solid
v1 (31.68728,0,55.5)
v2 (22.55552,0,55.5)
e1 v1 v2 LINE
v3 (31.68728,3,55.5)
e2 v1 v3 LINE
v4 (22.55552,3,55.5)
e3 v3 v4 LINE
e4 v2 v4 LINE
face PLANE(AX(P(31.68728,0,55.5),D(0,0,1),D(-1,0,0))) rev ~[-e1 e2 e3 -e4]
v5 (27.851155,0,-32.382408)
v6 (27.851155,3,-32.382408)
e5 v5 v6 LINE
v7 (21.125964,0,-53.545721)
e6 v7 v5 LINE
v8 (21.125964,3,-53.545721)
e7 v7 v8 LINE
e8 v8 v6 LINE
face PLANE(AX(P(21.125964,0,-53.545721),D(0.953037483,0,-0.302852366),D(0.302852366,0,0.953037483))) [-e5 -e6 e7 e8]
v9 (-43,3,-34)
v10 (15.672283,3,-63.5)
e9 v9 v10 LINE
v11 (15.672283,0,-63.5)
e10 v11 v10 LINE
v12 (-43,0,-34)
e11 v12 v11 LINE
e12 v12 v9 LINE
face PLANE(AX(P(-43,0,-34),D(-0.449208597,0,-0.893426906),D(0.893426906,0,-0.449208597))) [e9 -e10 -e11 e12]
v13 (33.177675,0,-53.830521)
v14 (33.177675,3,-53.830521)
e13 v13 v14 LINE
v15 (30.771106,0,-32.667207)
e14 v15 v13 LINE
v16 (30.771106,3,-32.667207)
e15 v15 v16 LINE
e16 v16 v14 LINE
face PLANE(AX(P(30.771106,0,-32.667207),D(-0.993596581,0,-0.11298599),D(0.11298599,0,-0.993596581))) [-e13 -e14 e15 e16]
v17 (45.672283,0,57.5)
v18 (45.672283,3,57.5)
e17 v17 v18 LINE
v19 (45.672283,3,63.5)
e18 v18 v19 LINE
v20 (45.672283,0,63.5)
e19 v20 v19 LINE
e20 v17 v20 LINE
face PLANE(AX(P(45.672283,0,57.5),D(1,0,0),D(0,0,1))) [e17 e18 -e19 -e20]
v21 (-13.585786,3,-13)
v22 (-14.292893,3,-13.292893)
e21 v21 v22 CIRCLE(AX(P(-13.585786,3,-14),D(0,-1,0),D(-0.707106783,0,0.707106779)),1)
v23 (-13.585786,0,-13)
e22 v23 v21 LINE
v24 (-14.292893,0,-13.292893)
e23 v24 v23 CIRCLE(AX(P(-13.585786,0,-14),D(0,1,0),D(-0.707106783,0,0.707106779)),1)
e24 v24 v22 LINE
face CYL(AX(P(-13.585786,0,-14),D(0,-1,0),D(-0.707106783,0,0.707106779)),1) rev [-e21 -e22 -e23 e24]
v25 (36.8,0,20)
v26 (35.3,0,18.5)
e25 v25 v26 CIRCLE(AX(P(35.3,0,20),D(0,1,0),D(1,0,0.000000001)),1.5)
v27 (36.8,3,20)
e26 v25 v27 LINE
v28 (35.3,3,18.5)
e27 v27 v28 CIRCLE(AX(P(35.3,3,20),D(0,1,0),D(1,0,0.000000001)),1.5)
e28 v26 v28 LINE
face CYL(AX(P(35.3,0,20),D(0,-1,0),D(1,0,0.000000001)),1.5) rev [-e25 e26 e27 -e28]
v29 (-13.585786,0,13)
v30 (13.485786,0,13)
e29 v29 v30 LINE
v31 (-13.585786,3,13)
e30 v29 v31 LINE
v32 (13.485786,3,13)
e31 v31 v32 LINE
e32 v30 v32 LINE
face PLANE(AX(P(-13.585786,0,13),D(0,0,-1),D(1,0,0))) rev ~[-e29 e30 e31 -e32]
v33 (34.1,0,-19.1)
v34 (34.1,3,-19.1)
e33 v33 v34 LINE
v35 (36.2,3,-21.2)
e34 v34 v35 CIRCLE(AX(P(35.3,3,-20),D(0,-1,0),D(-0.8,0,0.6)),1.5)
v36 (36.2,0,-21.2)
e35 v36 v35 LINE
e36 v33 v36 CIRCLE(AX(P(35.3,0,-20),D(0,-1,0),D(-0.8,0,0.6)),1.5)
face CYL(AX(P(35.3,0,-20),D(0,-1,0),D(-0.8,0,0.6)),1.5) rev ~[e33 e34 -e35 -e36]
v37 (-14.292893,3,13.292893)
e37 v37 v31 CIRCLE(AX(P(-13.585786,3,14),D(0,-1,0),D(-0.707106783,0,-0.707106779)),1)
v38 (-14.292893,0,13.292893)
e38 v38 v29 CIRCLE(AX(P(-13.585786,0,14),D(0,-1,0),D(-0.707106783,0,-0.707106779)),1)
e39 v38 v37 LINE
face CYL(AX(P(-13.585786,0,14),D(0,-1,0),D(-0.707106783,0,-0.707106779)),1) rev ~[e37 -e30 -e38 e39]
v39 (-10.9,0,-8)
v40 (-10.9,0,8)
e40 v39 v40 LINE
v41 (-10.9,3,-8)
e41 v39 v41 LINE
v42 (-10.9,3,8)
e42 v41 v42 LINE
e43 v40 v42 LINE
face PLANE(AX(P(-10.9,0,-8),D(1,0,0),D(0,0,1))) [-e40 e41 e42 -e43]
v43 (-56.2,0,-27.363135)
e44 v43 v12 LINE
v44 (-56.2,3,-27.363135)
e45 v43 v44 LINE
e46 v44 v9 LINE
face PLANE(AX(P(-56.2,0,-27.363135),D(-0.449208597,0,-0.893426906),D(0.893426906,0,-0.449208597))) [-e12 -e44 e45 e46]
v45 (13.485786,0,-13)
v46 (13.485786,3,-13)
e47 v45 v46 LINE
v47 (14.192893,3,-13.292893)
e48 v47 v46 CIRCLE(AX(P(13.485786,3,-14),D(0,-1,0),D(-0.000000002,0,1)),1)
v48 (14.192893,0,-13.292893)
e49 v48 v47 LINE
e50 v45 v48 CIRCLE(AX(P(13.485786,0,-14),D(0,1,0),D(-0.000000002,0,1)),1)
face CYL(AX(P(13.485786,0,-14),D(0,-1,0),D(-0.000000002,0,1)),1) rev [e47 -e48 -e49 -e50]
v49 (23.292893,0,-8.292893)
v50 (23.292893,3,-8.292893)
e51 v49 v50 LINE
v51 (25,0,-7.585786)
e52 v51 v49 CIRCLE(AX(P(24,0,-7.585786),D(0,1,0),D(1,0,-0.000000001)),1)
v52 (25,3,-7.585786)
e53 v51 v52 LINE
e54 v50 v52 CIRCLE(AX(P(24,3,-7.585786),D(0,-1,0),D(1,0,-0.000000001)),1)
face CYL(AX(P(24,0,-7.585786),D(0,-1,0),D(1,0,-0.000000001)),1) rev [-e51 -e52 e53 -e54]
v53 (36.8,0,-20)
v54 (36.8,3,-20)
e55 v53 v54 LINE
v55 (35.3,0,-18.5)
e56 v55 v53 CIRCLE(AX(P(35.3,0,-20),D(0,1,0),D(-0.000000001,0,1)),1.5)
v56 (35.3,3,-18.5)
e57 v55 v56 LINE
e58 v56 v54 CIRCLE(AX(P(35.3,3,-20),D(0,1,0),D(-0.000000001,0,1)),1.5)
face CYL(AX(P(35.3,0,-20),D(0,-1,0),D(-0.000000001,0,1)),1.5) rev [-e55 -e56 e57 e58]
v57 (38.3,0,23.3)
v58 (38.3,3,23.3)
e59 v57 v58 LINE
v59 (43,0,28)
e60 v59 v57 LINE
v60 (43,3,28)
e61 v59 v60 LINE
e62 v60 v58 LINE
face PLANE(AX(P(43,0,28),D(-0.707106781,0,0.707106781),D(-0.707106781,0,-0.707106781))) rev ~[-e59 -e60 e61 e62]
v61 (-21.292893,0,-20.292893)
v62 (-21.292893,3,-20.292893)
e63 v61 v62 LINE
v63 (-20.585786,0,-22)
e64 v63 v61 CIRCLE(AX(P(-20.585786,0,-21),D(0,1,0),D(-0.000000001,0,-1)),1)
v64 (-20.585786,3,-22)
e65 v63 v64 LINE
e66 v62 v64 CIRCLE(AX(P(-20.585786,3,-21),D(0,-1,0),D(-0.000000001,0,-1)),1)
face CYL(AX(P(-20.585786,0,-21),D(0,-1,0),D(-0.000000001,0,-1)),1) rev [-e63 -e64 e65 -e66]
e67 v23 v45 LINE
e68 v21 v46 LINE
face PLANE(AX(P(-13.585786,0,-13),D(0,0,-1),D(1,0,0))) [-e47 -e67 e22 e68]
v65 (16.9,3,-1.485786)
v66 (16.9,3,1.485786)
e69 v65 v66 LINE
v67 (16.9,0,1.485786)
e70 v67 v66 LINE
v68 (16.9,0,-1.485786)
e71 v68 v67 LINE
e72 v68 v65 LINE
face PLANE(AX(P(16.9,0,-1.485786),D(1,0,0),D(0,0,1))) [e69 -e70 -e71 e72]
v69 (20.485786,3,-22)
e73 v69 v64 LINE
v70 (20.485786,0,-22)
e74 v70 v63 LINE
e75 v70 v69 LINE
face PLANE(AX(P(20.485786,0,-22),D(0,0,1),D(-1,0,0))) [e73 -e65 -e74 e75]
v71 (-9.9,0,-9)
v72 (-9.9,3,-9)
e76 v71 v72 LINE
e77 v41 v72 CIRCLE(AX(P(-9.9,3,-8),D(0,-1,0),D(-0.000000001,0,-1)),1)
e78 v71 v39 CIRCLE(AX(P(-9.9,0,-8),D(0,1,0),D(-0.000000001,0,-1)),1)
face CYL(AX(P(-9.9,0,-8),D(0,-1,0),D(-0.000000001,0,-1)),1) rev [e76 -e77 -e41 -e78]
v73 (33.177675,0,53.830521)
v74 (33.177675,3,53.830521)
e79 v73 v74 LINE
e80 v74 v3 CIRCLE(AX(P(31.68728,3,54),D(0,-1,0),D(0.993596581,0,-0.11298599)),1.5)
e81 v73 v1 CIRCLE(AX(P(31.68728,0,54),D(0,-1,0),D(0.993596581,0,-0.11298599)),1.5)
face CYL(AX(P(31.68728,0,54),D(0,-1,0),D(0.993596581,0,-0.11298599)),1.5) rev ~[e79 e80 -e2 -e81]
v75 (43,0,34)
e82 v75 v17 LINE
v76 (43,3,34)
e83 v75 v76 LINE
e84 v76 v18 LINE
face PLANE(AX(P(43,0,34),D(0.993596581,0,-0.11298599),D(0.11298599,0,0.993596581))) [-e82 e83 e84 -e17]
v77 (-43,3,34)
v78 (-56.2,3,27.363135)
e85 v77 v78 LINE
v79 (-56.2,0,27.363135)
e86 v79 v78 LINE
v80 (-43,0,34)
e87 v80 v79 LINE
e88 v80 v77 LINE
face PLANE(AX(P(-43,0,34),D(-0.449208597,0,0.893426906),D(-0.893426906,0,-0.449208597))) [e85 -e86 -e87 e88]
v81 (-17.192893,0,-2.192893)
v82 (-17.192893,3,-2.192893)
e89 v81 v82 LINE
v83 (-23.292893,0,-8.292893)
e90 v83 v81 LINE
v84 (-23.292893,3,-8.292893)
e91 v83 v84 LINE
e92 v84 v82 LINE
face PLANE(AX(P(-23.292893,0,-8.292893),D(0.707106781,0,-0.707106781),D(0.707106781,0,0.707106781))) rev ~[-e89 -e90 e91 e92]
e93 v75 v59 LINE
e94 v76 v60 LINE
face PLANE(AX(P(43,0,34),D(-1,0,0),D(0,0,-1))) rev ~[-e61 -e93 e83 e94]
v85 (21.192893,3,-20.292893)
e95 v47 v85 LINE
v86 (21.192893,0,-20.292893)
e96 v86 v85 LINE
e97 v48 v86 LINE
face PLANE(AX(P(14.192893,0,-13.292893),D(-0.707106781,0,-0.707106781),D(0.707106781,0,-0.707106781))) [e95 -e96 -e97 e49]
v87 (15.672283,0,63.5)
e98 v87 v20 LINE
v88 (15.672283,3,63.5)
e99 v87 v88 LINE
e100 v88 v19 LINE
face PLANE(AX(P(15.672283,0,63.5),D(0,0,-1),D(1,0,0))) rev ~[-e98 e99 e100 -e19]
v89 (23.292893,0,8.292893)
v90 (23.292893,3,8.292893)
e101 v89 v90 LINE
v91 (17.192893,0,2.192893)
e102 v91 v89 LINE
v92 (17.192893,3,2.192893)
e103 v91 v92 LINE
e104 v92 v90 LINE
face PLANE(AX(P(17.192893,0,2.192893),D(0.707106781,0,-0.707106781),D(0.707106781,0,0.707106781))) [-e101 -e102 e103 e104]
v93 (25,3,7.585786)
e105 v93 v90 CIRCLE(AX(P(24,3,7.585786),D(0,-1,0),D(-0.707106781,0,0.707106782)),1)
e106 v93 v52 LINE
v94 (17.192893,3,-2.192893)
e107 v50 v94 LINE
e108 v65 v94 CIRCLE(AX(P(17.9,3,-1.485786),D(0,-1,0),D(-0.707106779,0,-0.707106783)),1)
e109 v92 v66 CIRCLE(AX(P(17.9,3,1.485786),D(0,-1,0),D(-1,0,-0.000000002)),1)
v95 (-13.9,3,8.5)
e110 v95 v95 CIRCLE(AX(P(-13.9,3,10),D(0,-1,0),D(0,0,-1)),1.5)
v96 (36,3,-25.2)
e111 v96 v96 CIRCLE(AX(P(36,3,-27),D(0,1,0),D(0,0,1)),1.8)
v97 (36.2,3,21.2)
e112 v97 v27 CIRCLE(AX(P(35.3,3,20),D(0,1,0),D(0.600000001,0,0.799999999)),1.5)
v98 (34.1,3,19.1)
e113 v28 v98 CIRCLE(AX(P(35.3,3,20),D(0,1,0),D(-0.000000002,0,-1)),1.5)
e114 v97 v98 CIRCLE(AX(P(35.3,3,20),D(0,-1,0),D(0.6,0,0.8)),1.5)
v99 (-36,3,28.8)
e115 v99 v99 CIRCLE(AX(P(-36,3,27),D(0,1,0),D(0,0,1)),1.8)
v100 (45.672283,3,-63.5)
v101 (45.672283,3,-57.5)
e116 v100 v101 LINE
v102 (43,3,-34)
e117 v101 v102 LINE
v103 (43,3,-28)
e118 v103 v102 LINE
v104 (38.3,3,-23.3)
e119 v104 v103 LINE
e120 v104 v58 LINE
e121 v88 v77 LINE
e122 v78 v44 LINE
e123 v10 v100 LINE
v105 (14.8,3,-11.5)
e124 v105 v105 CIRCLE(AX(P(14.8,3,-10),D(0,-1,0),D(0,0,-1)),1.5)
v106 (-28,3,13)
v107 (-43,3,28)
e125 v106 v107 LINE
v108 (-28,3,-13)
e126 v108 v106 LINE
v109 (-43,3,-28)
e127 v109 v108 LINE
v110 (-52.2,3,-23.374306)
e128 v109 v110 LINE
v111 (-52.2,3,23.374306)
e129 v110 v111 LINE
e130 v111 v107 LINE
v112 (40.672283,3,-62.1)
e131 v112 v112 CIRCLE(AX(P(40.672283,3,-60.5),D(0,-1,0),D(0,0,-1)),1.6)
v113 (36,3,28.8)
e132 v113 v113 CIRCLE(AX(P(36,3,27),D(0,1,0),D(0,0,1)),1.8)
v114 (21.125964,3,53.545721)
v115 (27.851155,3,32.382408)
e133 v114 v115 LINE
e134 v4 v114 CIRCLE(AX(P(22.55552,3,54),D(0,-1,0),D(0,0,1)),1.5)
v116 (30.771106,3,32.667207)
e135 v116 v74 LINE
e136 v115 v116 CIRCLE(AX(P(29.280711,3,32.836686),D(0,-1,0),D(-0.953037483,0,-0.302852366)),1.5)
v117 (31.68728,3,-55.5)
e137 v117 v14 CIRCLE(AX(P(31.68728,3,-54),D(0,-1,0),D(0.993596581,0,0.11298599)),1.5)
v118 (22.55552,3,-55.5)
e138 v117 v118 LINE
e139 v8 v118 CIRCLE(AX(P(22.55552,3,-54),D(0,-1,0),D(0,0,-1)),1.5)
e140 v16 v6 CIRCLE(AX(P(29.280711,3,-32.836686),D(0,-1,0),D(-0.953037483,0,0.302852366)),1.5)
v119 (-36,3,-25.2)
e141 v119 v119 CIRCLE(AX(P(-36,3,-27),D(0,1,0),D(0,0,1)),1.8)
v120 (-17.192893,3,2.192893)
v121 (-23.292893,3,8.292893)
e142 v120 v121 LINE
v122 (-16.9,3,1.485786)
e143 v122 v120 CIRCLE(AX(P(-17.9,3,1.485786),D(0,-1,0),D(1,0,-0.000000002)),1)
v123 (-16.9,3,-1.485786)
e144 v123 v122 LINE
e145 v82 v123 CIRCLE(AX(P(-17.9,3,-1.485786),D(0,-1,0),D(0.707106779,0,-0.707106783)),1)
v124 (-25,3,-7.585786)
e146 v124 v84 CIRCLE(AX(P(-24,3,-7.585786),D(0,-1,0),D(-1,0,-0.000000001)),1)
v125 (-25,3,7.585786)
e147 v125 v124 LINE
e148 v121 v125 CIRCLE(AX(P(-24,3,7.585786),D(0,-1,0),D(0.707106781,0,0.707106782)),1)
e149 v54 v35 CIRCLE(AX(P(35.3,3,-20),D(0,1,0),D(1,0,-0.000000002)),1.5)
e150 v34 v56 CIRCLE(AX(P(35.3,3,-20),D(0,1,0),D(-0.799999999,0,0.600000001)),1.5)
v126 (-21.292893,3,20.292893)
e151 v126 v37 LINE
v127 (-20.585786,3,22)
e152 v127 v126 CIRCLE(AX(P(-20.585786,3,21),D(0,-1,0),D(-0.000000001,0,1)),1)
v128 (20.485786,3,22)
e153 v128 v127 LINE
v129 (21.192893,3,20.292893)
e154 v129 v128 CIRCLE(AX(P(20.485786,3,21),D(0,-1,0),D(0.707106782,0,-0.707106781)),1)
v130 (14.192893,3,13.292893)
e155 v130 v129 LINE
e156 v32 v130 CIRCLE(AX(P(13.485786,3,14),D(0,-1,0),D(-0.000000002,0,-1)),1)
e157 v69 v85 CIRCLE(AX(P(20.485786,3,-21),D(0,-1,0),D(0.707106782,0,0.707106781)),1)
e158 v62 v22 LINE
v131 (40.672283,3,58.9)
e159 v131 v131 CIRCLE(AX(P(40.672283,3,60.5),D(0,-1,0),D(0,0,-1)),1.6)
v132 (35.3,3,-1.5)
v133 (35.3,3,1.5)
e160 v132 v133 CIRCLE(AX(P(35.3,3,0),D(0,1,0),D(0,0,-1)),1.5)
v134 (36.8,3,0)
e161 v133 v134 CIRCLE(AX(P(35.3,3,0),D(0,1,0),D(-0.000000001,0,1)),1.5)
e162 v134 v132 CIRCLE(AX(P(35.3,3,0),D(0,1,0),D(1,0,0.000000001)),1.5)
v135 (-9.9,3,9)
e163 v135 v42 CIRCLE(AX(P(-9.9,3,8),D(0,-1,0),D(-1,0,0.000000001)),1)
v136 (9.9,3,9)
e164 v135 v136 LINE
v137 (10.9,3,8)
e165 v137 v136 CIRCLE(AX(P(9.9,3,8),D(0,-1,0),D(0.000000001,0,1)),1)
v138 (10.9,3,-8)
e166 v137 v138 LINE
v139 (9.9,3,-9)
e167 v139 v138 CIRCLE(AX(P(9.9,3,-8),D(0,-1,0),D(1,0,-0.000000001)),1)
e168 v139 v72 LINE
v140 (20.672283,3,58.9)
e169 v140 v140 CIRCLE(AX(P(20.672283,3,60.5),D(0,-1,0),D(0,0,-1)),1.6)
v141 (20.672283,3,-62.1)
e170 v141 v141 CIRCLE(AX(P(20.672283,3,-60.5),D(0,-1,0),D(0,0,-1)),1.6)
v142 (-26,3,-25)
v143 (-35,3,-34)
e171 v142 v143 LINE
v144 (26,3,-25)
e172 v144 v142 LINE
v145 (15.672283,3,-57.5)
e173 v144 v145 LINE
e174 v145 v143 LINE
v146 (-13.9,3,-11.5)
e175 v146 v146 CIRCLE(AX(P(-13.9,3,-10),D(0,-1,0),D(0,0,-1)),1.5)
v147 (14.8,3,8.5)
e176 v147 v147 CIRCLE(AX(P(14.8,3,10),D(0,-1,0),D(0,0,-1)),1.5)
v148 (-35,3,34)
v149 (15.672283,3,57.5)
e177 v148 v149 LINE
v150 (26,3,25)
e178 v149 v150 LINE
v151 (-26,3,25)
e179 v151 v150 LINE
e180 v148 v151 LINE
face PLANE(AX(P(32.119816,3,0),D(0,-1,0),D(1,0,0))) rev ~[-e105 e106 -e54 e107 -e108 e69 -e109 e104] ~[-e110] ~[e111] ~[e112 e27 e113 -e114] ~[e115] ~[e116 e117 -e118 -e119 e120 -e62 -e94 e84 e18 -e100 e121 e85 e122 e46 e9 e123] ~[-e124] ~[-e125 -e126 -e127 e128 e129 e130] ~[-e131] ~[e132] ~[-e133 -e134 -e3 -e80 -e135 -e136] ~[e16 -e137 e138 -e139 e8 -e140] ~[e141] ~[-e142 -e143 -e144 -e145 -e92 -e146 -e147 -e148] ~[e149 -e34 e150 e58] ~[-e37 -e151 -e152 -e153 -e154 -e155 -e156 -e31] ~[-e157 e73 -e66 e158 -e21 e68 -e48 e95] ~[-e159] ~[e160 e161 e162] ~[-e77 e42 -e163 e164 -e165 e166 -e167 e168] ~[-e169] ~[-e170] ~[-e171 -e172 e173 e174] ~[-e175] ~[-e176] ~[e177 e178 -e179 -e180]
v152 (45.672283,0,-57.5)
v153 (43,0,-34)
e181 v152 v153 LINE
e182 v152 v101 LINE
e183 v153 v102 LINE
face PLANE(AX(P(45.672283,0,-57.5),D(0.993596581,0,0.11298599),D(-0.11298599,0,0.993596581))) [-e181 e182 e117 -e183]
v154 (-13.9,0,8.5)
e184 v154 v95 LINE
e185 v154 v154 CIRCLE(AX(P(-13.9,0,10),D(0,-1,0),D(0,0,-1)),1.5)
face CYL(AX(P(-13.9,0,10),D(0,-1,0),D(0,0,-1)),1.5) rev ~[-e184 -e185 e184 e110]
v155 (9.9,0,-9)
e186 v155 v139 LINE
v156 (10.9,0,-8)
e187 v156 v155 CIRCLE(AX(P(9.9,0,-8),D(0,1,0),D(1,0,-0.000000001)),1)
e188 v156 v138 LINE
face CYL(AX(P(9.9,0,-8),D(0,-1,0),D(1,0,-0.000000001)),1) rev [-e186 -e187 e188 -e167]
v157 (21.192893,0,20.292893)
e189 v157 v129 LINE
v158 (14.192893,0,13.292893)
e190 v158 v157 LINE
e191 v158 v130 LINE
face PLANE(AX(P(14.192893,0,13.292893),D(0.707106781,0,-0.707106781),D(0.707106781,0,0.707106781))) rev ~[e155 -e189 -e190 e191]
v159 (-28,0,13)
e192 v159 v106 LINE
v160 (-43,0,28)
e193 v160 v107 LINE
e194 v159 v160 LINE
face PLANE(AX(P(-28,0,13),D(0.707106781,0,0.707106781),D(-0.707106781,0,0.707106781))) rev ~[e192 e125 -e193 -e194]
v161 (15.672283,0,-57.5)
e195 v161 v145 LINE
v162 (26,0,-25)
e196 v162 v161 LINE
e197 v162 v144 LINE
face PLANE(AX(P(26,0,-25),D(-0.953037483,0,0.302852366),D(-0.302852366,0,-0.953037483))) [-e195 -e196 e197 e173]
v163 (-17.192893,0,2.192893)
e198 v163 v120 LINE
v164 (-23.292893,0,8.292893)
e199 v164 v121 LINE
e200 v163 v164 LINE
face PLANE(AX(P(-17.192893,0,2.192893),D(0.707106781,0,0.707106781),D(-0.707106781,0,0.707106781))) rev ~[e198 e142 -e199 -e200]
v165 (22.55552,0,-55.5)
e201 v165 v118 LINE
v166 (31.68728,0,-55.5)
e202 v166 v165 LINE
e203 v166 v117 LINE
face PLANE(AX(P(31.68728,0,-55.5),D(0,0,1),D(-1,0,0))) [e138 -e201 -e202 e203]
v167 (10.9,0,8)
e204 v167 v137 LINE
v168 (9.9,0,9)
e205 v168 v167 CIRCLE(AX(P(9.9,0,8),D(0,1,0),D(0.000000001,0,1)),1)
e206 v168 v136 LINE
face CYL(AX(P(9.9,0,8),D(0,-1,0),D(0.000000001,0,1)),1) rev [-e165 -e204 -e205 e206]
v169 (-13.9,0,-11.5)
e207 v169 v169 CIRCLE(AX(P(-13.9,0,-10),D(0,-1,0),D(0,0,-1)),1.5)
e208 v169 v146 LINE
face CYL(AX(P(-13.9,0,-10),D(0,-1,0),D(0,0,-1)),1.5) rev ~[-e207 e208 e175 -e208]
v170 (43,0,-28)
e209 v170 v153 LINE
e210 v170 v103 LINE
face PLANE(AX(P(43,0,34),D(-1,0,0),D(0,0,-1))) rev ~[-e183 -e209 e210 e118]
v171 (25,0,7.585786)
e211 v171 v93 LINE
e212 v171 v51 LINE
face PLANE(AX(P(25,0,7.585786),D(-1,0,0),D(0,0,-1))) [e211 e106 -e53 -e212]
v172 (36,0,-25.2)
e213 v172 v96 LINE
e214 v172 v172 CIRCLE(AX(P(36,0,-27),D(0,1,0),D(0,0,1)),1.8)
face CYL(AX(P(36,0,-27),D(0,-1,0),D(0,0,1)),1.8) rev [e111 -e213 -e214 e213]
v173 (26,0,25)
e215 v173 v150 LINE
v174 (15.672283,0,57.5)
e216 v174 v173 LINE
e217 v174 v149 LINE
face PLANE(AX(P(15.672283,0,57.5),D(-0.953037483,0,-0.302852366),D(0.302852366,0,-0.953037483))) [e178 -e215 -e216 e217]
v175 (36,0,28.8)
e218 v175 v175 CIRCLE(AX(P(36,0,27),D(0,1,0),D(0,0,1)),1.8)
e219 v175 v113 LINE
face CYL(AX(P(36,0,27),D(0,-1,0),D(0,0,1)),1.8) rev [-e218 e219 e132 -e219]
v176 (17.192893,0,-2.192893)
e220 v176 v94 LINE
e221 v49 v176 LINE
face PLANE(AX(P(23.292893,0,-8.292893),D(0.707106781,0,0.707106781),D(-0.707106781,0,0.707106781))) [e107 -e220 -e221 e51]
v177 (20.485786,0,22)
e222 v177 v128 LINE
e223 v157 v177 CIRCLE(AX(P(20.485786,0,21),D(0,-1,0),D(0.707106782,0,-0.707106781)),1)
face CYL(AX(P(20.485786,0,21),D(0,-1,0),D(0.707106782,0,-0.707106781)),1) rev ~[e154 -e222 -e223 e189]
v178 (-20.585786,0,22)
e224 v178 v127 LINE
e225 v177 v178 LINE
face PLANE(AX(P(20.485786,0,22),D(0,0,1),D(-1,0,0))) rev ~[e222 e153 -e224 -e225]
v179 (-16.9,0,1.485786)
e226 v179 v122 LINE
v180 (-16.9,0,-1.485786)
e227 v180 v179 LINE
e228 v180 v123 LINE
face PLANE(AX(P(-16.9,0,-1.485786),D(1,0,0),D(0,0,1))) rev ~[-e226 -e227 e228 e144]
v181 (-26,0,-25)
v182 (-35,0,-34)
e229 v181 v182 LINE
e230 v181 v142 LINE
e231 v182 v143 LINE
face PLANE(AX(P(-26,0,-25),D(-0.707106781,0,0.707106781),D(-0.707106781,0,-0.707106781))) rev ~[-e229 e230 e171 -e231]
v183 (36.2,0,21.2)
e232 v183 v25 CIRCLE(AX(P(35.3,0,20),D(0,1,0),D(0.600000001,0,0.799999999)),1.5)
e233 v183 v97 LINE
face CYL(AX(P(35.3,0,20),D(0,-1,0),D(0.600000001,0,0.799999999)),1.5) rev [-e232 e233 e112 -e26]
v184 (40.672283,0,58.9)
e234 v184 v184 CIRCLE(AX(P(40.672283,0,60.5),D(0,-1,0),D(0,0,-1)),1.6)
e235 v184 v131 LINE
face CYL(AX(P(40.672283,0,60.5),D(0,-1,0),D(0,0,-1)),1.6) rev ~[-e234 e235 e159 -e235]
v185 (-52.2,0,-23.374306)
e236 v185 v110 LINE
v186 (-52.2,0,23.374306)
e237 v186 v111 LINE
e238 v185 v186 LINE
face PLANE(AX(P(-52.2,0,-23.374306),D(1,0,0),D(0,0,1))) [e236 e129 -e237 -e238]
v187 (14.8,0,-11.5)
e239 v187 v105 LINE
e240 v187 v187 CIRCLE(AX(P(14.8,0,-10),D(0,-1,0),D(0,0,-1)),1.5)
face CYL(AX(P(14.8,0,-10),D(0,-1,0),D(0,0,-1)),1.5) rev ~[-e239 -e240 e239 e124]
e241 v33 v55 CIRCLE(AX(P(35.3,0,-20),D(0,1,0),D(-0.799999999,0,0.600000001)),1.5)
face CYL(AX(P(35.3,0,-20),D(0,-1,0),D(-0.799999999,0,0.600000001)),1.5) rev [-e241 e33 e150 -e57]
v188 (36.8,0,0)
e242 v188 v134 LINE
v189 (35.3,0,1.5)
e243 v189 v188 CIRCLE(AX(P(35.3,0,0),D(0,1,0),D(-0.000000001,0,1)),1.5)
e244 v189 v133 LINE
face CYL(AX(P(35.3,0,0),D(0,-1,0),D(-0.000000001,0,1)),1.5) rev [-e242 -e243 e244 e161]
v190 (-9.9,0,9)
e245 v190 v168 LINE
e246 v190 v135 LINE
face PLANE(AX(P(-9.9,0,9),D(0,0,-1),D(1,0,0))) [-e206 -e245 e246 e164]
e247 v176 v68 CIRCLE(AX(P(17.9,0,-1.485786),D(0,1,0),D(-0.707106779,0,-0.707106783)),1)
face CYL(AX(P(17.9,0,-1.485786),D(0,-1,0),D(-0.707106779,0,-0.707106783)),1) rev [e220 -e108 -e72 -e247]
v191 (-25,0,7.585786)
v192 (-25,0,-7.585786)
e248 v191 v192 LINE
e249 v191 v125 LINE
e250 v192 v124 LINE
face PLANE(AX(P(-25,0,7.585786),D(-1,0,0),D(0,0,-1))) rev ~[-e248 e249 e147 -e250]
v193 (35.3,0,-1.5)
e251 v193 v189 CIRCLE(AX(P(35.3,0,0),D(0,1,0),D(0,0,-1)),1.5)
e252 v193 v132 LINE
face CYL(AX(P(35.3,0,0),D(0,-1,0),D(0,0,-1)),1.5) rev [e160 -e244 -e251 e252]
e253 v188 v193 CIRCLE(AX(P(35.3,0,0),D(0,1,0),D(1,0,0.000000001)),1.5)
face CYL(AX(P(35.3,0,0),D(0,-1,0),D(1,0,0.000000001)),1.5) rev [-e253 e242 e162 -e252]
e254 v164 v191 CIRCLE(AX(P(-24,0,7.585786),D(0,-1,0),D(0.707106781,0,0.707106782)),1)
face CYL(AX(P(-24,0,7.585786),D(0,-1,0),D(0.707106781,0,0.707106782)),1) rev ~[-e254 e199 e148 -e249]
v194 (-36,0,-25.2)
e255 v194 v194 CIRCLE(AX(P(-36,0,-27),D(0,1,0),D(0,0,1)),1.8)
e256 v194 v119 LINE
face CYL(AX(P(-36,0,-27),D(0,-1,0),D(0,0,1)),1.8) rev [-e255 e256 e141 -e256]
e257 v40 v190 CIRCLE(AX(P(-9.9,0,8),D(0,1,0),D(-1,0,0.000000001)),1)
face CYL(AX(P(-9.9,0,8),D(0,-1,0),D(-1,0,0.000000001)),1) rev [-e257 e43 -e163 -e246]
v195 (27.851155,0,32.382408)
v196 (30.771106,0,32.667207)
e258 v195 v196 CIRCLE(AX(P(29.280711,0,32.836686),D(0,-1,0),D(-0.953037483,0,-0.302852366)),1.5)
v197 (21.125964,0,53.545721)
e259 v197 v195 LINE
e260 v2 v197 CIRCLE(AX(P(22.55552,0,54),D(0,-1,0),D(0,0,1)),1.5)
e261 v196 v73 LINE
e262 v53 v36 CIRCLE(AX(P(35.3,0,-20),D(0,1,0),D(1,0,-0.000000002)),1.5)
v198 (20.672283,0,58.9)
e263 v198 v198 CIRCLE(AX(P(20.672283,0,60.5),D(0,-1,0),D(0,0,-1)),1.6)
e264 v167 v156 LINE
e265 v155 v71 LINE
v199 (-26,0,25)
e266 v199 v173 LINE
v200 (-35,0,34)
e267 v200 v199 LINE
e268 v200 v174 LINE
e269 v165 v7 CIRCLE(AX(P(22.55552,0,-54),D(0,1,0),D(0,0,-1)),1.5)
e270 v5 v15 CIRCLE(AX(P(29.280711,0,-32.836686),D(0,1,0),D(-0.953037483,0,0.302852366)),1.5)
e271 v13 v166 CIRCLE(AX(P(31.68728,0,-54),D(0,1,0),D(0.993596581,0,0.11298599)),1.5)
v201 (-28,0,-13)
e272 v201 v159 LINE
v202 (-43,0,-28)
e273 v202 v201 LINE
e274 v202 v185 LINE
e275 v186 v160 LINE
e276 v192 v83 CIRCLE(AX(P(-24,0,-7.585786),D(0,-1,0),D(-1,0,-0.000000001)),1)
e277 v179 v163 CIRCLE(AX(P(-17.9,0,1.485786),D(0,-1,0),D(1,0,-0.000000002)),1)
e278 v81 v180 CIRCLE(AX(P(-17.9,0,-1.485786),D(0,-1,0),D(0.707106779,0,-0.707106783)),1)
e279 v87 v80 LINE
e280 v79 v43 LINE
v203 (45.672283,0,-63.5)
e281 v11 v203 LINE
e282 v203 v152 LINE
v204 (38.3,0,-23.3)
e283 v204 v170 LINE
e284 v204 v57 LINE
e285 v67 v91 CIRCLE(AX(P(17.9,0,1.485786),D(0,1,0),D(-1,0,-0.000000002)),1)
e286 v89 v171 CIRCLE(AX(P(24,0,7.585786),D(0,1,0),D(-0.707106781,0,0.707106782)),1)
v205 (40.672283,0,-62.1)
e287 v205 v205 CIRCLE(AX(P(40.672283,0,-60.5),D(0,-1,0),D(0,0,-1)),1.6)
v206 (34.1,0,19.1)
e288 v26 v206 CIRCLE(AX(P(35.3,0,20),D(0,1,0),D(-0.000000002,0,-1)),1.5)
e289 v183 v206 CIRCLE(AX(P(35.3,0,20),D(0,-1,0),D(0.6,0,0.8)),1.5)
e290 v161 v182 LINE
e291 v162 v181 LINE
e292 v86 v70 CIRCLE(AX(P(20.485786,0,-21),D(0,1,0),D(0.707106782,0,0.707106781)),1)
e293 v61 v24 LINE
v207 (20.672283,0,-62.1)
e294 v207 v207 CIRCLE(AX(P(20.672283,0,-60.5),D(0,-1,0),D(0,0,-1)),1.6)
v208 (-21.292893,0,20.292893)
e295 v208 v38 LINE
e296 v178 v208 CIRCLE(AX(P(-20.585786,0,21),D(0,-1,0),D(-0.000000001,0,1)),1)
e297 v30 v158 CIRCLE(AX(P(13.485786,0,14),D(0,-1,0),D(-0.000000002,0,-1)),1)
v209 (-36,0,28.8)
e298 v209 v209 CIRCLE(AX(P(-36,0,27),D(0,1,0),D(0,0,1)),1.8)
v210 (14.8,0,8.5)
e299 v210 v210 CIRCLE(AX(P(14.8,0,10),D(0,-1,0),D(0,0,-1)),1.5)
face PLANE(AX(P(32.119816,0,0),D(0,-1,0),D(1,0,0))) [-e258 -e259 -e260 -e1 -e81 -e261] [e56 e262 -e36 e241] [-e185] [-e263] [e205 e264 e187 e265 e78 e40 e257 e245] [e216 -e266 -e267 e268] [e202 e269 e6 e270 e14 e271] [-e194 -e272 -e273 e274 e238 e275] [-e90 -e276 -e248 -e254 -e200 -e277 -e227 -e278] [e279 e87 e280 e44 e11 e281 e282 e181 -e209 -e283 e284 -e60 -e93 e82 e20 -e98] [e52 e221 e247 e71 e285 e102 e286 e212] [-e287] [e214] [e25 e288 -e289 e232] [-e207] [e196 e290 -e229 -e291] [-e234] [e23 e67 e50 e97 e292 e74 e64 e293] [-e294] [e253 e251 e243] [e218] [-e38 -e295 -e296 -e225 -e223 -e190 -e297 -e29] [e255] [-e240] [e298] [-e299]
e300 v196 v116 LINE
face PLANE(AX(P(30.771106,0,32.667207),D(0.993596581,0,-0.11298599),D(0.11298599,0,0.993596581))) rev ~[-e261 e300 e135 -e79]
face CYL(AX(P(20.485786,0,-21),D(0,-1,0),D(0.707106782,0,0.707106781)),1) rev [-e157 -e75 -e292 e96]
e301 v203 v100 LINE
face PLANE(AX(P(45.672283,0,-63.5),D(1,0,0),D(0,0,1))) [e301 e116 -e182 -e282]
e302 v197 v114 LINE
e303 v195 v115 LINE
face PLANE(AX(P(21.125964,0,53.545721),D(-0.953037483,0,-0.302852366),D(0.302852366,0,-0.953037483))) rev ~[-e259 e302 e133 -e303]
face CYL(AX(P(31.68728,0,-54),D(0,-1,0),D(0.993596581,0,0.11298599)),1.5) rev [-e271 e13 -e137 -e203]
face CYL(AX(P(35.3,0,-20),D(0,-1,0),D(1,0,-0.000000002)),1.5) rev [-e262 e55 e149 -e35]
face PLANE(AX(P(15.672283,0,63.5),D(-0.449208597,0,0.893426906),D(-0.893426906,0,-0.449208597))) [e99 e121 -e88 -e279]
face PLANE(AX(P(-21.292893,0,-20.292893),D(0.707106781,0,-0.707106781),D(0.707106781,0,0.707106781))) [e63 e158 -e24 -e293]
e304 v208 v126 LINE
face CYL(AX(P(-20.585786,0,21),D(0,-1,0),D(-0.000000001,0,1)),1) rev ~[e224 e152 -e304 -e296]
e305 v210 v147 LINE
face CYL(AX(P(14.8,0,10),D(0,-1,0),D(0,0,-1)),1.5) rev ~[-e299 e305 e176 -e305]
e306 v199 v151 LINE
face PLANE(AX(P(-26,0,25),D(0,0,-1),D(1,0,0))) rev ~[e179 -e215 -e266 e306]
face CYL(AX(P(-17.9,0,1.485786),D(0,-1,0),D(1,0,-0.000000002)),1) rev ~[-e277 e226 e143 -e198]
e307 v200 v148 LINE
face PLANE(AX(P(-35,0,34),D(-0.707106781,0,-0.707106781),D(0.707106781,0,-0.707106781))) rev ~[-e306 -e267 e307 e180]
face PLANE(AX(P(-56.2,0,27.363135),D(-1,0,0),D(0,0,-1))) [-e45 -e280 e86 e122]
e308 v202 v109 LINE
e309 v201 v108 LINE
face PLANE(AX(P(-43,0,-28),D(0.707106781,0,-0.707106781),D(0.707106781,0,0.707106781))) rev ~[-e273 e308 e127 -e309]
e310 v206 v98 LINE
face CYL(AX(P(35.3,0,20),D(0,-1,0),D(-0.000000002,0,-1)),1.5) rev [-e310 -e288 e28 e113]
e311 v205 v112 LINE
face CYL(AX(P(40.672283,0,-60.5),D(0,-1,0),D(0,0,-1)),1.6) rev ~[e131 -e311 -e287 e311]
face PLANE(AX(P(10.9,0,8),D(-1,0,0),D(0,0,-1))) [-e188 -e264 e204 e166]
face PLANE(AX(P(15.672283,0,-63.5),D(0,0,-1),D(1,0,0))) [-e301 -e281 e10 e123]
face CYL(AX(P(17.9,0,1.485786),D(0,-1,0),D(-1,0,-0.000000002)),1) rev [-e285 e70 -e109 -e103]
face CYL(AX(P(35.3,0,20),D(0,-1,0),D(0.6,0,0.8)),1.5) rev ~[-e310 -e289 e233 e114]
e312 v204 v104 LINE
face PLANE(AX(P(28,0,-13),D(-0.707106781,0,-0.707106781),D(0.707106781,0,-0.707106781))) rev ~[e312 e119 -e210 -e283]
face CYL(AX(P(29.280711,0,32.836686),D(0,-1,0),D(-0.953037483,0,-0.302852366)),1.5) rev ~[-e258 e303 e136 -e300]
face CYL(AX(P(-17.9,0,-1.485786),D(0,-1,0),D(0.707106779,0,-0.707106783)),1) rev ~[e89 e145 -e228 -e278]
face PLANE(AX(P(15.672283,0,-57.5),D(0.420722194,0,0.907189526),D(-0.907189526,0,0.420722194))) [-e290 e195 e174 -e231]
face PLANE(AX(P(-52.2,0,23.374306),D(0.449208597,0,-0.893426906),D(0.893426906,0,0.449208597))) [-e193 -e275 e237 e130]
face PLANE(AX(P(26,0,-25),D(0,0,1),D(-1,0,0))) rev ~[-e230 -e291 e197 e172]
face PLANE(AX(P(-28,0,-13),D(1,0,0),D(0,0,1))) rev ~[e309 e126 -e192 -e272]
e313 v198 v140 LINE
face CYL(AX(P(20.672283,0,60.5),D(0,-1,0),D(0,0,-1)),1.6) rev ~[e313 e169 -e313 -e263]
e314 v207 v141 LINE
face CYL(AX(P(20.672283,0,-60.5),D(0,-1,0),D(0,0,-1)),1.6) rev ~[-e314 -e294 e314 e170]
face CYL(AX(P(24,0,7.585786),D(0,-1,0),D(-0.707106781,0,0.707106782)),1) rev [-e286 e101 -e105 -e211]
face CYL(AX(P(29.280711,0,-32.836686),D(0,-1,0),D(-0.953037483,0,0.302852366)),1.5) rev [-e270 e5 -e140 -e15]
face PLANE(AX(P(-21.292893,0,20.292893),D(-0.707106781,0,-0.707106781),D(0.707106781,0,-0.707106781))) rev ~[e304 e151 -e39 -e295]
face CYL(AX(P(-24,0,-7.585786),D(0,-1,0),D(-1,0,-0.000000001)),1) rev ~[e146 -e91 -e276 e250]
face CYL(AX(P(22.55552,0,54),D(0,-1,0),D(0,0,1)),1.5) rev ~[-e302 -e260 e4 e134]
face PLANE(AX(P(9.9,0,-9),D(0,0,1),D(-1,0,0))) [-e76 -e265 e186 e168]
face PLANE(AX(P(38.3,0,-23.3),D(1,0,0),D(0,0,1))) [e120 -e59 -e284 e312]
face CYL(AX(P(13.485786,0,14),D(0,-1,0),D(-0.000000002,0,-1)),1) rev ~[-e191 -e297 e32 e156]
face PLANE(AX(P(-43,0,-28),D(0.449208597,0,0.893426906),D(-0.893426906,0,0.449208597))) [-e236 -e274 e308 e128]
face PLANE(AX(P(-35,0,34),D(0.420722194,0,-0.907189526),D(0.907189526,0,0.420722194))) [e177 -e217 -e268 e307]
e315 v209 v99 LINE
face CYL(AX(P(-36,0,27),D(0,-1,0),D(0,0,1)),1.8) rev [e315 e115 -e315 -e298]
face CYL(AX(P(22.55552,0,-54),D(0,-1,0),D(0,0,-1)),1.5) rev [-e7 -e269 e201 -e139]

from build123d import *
from build123d.topology import SkipClean

# Parameters (mm, degrees)
SKETCH_1_W          = 86
SKETCH_1_H          = 68
SKETCH_1_R          = 1.8
EXTRUDE_1_DEPTH     = 3
CUT_EXTRUDE_1_DEPTH = 3
SKETCH_3_W          = 30
SKETCH_3_H          = 6
SKETCH_3_R          = 1.6
EXTRUDE_2_DEPTH     = 3
EXTRUDE_3_DEPTH     = 3
SKETCH_5_R          = 1.5
CUT_EXTRUDE_2_DEPTH = 79.276480437
CUT_EXTRUDE_3_DEPTH = 79.276480437
EXTRUDE_4_DEPTH     = 3
EXTRUDE_6_DEPTH     = 3
CUT_EXTRUDE_6_DEPTH = 85.85098703
CUT_EXTRUDE_7_DEPTH = 85.85098703


with BuildPart() as part:
    # 草图1 → 凸台-拉伸1 (new body)
    with BuildSketch(Plane(origin=(0, 0, 0), x_dir=(1, 0, 0), z_dir=(0, 1, 0))):
        Rectangle(SKETCH_1_W, SKETCH_1_H)
        with Locations(Location((-36, -27, 0), (0, 0, 270))):
            Circle(SKETCH_1_R, mode=Mode.SUBTRACT)
        with Locations(Location((-36, 27, 0), (0, 0, 270))):
            Circle(SKETCH_1_R, mode=Mode.SUBTRACT)
        with Locations(Location((36, 27, 0), (0, 0, 270))):
            Circle(SKETCH_1_R, mode=Mode.SUBTRACT)
        with Locations(Location((36, -27, 0), (0, 0, 270))):
            Circle(SKETCH_1_R, mode=Mode.SUBTRACT)
    extrude(amount=EXTRUDE_1_DEPTH)

    # 草图2 → 切除-拉伸1 (cut)
    with BuildSketch(Plane.XZ):
        Polygon((26, 25), (35, 34), (-35, 34), (-26, 25), align=None)
        Polygon((-28, 13), (-43, 28), (-43, -28), (-28, -13), align=None)
        Polygon((-35, -34), (35, -34), (26, -25), (-26, -25), align=None)
        Polygon((43, -28), (43, 28), (28, 13), (28, -13), align=None)
    extrude(amount=-CUT_EXTRUDE_1_DEPTH, mode=Mode.SUBTRACT)

    # 草图3 → 凸台-拉伸2 (add)
    # profile 1 of 3: a face of its own
    with BuildSketch(Plane.XZ):
        Polygon((35, 34), (43, 34), (45.67228251, 57.499999999), (15.67228251, 57.499999999), (26, 25), align=None)
    # profile 2 of 3: a face of its own
    with BuildSketch(Plane.XZ):
        with Locations((30.67228251, 60.499999999)):
            Rectangle(SKETCH_3_W, SKETCH_3_H)
        with Locations(Location((20.67228251, 60.499999999, 0), (0, 0, 270))):
            Circle(SKETCH_3_R, mode=Mode.SUBTRACT)
        with Locations(Location((40.67228251, 60.499999999, 0), (0, 0, 270))):
            Circle(SKETCH_3_R, mode=Mode.SUBTRACT)
    # profile 3 of 3: a face of its own
    with BuildSketch(Plane.XZ):
        Polygon((45.67228251, -63.499999999), (45.67228251, -57.499999999), (43, -34), (35, -34), (26, -25), (15.67228251, -57.499999999), (15.67228251, -63.499999999), align=None)
        with Locations(Location((20.67228251, -60.499999999, 0), (0, 0, 270))):
            Circle(SKETCH_3_R, mode=Mode.SUBTRACT)
        with Locations(Location((40.67228251, -60.499999999, 0), (0, 0, 270))):
            Circle(SKETCH_3_R, mode=Mode.SUBTRACT)
    extrude(amount=-EXTRUDE_2_DEPTH)

    # 草图4 → 凸台-拉伸3 (add)
    with BuildSketch(Plane.XZ):
        Polygon((15.67228251, 57.499999999), (15.67228251, 63.499999999), (-43, 34), (-35, 34), align=None)
        Polygon((-35, -34), (-43, -34), (15.67228251, -63.499999999), (15.67228251, -57.499999999), align=None)
    extrude(amount=-EXTRUDE_3_DEPTH)

    # 草图5 → 切除-拉伸2 (cut, through all)
    with BuildSketch(Plane.XZ):
        with Locations(Location((-13.9, 10, 0), (0, 0, 270))):
            Circle(SKETCH_5_R)
        with Locations(Location((14.8, 10, 0), (0, 0, 270))):
            Circle(SKETCH_5_R)
        with Locations(Location((-13.9, -10, 0), (0, 0, 270))):
            Circle(SKETCH_5_R)
        with Locations(Location((14.8, -10, 0), (0, 0, 270))):
            Circle(SKETCH_5_R)
    extrude(amount=-CUT_EXTRUDE_2_DEPTH, mode=Mode.SUBTRACT)

    # 草图6 → 切除-拉伸3 (cut, through all)
    with BuildSketch(Plane.XZ):
        with BuildLine():
            Line((-21.292893219, 20.292893219), (-14.292893219, 13.292893219))
            ThreePointArc((-14.292893219, 13.292893219), (-13.96846987, 13.076120467), (-13.585786438, 13))
            Line((-13.585786438, 13), (13.485786438, 13))
            ThreePointArc((13.485786438, 13), (13.86846987, 13.076120467), (14.192893219, 13.292893219))
            Line((14.192893219, 13.292893219), (21.192893219, 20.292893219))
            ThreePointArc((21.192893219, 20.292893219), (21.40966597, 21.382683432), (20.485786438, 22))
            Line((20.485786438, 22), (-20.585786438, 22))
            ThreePointArc((-20.585786438, 22), (-21.50966597, 21.382683432), (-21.292893219, 20.292893219))
        make_face()
        with BuildLine():
            Line((-25, 7.585786438), (-25, -7.585786438))
            ThreePointArc((-25, -7.585786438), (-24.382683432, -8.50966597), (-23.292893219, -8.292893219))
            Line((-23.292893219, -8.292893219), (-17.192893219, -2.192893219))
            ThreePointArc((-17.192893219, -2.192893219), (-16.976120467, -1.86846987), (-16.9, -1.485786438))
            Line((-16.9, -1.485786438), (-16.9, 1.485786438))
            ThreePointArc((-16.9, 1.485786438), (-16.976120467, 1.86846987), (-17.192893219, 2.192893219))
            Line((-17.192893219, 2.192893219), (-23.292893219, 8.292893219))
            ThreePointArc((-23.292893219, 8.292893219), (-24.382683432, 8.50966597), (-25, 7.585786438))
        make_face()
        with BuildLine():
            Line((-9.9, 9), (9.9, 9))
            ThreePointArc((9.9, 9), (10.607106781, 8.707106781), (10.9, 8))
            Line((10.9, 8), (10.9, -8))
            ThreePointArc((10.9, -8), (10.607106781, -8.707106781), (9.9, -9))
            Line((9.9, -9), (-9.9, -9))
            ThreePointArc((-9.9, -9), (-10.607106781, -8.707106781), (-10.9, -8))
            Line((-10.9, -8), (-10.9, 8))
            ThreePointArc((-10.9, 8), (-10.607106781, 8.707106781), (-9.9, 9))
        make_face()
        with BuildLine():
            Line((14.192893219, -13.292893219), (21.192893219, -20.292893219))
            ThreePointArc((21.192893219, -20.292893219), (21.40966597, -21.382683432), (20.485786438, -22))
            Line((20.485786438, -22), (-20.585786438, -22))
            ThreePointArc((-20.585786438, -22), (-21.50966597, -21.382683432), (-21.292893219, -20.292893219))
            Line((-21.292893219, -20.292893219), (-14.292893219, -13.292893219))
            ThreePointArc((-14.292893219, -13.292893219), (-13.96846987, -13.076120467), (-13.585786438, -13))
            Line((-13.585786438, -13), (13.485786438, -13))
            ThreePointArc((13.485786438, -13), (13.86846987, -13.076120467), (14.192893219, -13.292893219))
        make_face()
        with BuildLine():
            Line((16.9, -1.485786438), (16.9, 1.485786438))
            ThreePointArc((16.9, 1.485786438), (16.976120467, 1.86846987), (17.192893219, 2.192893219))
            Line((17.192893219, 2.192893219), (23.292893219, 8.292893219))
            ThreePointArc((23.292893219, 8.292893219), (24.382683432, 8.50966597), (25, 7.585786438))
            Line((25, 7.585786438), (25, -7.585786438))
            ThreePointArc((25, -7.585786438), (24.382683432, -8.50966597), (23.292893219, -8.292893219))
            Line((23.292893219, -8.292893219), (17.192893219, -2.192893219))
            ThreePointArc((17.192893219, -2.192893219), (16.976120467, -1.86846987), (16.9, -1.485786438))
        make_face()
    extrude(amount=-CUT_EXTRUDE_3_DEPTH, mode=Mode.SUBTRACT)

    # 草图7 → 凸台-拉伸4 (add)
    with BuildSketch(Plane.XZ):
        Polygon((-56.2, 27.363135311), (-56.2, -27.363135311), (-43, -34), (-43, -28), (-52.2, -23.374306429), (-52.2, 23.374306429), (-43, 28), (-43, 34), align=None)
    extrude(amount=-EXTRUDE_4_DEPTH)

    # 草图11 → 凸台-拉伸6 (add)
    with BuildSketch(Plane.XZ):
        with BuildLine():
            Line((35.3, 1.5), (35.3, 18.5))
            ThreePointArc((35.3, 18.5), (34.629179607, 18.658359214), (34.1, 19.1))
            Line((34.1, 19.1), (28, 13))
            Line((28, 13), (28, -13))
            Line((28, -13), (34.1, -19.1))
            ThreePointArc((34.1, -19.1), (34.629179607, -18.658359214), (35.3, -18.5))
            Line((35.3, -18.5), (35.3, -1.5))
            ThreePointArc((35.3, -1.5), (33.8, 0), (35.3, 1.5))
        make_face()
        with BuildLine():
            ThreePointArc((36.8, 20), (36.360660172, 18.939339828), (35.3, 18.5))
            Line((35.3, 18.5), (35.3, 1.5))
            ThreePointArc((35.3, 1.5), (36.360660172, 1.060660172), (36.8, 0))
            ThreePointArc((36.8, 0), (36.360660172, -1.060660172), (35.3, -1.5))
            Line((35.3, -1.5), (35.3, -18.5))
            ThreePointArc((35.3, -18.5), (36.360660172, -18.939339828), (36.8, -20))
            ThreePointArc((36.8, -20), (36.641640786, -20.670820393), (36.2, -21.2))
            Line((36.2, -21.2), (38.3, -23.3))
            Line((38.3, -23.3), (38.3, 23.3))
            Line((38.3, 23.3), (36.2, 21.2))
            ThreePointArc((36.2, 21.2), (36.641640786, 20.670820393), (36.8, 20))
        make_face()
    extrude(amount=-EXTRUDE_6_DEPTH)

    # 草图11<3> → 切除-拉伸6 (cut, through all)
    with SkipClean():  # the faces are left unmerged after this step: merging them gives an invalid solid
        with BuildSketch(Plane.XZ):
            with BuildLine():
                ThreePointArc((36.2, 21.2), (34.239339828, 21.060660172), (34.1, 19.1))
                Line((34.1, 19.1), (36.2, 21.2))
            make_face()
            with BuildLine():
                Line((36.2, 21.2), (34.1, 19.1))
                ThreePointArc((34.1, 19.1), (35.774341649, 18.576975053), (36.8, 20))
                ThreePointArc((36.8, 20), (36.641640786, 20.670820393), (36.2, 21.2))
            make_face()
            with BuildLine():
                ThreePointArc((36.8, -20), (35.774341649, -18.576975053), (34.1, -19.1))
                Line((34.1, -19.1), (36.2, -21.2))
                ThreePointArc((36.2, -21.2), (36.641640786, -20.670820393), (36.8, -20))
            make_face()
            with BuildLine():
                Line((36.2, -21.2), (34.1, -19.1))
                ThreePointArc((34.1, -19.1), (34.239339828, -21.060660172), (36.2, -21.2))
            make_face()
        extrude(amount=-CUT_EXTRUDE_6_DEPTH, mode=Mode.SUBTRACT)

    # 草图12 → 切除-拉伸7 (cut, through all)
    with SkipClean():  # the faces are left unmerged after this step: merging them gives an invalid solid
        with BuildSketch(Plane.XZ):
            with BuildLine():
                Line((21.125963718, 53.545721451), (27.85115527, 32.382407713))
                ThreePointArc((27.85115527, 32.382407713), (29.426324108, 31.343770669), (30.771106367, 32.667207276))
                Line((30.771106367, 32.667207276), (33.177674586, 53.830521014))
                ThreePointArc((33.177674586, 53.830521014), (32.806256586, 54.998944823), (31.687279714, 55.499999999))
                Line((31.687279714, 55.499999999), (22.555519943, 55.499999999))
                ThreePointArc((22.555519943, 55.499999999), (21.344855286, 54.885602104), (21.125963718, 53.545721451))
            make_face()
            with BuildLine():
                Line((30.771106367, -32.667207276), (33.177674586, -53.830521014))
                ThreePointArc((33.177674586, -53.830521014), (32.806256586, -54.998944823), (31.687279714, -55.499999999))
                Line((31.687279714, -55.499999999), (22.555519943, -55.499999999))
                ThreePointArc((22.555519943, -55.499999999), (21.344855286, -54.885602104), (21.125963718, -53.545721451))
                Line((21.125963718, -53.545721451), (27.85115527, -32.382407713))
                ThreePointArc((27.85115527, -32.382407713), (29.426324108, -31.343770669), (30.771106367, -32.667207276))
            make_face()
        extrude(amount=-CUT_EXTRUDE_7_DEPTH, mode=Mode.SUBTRACT)


solid = part.part
